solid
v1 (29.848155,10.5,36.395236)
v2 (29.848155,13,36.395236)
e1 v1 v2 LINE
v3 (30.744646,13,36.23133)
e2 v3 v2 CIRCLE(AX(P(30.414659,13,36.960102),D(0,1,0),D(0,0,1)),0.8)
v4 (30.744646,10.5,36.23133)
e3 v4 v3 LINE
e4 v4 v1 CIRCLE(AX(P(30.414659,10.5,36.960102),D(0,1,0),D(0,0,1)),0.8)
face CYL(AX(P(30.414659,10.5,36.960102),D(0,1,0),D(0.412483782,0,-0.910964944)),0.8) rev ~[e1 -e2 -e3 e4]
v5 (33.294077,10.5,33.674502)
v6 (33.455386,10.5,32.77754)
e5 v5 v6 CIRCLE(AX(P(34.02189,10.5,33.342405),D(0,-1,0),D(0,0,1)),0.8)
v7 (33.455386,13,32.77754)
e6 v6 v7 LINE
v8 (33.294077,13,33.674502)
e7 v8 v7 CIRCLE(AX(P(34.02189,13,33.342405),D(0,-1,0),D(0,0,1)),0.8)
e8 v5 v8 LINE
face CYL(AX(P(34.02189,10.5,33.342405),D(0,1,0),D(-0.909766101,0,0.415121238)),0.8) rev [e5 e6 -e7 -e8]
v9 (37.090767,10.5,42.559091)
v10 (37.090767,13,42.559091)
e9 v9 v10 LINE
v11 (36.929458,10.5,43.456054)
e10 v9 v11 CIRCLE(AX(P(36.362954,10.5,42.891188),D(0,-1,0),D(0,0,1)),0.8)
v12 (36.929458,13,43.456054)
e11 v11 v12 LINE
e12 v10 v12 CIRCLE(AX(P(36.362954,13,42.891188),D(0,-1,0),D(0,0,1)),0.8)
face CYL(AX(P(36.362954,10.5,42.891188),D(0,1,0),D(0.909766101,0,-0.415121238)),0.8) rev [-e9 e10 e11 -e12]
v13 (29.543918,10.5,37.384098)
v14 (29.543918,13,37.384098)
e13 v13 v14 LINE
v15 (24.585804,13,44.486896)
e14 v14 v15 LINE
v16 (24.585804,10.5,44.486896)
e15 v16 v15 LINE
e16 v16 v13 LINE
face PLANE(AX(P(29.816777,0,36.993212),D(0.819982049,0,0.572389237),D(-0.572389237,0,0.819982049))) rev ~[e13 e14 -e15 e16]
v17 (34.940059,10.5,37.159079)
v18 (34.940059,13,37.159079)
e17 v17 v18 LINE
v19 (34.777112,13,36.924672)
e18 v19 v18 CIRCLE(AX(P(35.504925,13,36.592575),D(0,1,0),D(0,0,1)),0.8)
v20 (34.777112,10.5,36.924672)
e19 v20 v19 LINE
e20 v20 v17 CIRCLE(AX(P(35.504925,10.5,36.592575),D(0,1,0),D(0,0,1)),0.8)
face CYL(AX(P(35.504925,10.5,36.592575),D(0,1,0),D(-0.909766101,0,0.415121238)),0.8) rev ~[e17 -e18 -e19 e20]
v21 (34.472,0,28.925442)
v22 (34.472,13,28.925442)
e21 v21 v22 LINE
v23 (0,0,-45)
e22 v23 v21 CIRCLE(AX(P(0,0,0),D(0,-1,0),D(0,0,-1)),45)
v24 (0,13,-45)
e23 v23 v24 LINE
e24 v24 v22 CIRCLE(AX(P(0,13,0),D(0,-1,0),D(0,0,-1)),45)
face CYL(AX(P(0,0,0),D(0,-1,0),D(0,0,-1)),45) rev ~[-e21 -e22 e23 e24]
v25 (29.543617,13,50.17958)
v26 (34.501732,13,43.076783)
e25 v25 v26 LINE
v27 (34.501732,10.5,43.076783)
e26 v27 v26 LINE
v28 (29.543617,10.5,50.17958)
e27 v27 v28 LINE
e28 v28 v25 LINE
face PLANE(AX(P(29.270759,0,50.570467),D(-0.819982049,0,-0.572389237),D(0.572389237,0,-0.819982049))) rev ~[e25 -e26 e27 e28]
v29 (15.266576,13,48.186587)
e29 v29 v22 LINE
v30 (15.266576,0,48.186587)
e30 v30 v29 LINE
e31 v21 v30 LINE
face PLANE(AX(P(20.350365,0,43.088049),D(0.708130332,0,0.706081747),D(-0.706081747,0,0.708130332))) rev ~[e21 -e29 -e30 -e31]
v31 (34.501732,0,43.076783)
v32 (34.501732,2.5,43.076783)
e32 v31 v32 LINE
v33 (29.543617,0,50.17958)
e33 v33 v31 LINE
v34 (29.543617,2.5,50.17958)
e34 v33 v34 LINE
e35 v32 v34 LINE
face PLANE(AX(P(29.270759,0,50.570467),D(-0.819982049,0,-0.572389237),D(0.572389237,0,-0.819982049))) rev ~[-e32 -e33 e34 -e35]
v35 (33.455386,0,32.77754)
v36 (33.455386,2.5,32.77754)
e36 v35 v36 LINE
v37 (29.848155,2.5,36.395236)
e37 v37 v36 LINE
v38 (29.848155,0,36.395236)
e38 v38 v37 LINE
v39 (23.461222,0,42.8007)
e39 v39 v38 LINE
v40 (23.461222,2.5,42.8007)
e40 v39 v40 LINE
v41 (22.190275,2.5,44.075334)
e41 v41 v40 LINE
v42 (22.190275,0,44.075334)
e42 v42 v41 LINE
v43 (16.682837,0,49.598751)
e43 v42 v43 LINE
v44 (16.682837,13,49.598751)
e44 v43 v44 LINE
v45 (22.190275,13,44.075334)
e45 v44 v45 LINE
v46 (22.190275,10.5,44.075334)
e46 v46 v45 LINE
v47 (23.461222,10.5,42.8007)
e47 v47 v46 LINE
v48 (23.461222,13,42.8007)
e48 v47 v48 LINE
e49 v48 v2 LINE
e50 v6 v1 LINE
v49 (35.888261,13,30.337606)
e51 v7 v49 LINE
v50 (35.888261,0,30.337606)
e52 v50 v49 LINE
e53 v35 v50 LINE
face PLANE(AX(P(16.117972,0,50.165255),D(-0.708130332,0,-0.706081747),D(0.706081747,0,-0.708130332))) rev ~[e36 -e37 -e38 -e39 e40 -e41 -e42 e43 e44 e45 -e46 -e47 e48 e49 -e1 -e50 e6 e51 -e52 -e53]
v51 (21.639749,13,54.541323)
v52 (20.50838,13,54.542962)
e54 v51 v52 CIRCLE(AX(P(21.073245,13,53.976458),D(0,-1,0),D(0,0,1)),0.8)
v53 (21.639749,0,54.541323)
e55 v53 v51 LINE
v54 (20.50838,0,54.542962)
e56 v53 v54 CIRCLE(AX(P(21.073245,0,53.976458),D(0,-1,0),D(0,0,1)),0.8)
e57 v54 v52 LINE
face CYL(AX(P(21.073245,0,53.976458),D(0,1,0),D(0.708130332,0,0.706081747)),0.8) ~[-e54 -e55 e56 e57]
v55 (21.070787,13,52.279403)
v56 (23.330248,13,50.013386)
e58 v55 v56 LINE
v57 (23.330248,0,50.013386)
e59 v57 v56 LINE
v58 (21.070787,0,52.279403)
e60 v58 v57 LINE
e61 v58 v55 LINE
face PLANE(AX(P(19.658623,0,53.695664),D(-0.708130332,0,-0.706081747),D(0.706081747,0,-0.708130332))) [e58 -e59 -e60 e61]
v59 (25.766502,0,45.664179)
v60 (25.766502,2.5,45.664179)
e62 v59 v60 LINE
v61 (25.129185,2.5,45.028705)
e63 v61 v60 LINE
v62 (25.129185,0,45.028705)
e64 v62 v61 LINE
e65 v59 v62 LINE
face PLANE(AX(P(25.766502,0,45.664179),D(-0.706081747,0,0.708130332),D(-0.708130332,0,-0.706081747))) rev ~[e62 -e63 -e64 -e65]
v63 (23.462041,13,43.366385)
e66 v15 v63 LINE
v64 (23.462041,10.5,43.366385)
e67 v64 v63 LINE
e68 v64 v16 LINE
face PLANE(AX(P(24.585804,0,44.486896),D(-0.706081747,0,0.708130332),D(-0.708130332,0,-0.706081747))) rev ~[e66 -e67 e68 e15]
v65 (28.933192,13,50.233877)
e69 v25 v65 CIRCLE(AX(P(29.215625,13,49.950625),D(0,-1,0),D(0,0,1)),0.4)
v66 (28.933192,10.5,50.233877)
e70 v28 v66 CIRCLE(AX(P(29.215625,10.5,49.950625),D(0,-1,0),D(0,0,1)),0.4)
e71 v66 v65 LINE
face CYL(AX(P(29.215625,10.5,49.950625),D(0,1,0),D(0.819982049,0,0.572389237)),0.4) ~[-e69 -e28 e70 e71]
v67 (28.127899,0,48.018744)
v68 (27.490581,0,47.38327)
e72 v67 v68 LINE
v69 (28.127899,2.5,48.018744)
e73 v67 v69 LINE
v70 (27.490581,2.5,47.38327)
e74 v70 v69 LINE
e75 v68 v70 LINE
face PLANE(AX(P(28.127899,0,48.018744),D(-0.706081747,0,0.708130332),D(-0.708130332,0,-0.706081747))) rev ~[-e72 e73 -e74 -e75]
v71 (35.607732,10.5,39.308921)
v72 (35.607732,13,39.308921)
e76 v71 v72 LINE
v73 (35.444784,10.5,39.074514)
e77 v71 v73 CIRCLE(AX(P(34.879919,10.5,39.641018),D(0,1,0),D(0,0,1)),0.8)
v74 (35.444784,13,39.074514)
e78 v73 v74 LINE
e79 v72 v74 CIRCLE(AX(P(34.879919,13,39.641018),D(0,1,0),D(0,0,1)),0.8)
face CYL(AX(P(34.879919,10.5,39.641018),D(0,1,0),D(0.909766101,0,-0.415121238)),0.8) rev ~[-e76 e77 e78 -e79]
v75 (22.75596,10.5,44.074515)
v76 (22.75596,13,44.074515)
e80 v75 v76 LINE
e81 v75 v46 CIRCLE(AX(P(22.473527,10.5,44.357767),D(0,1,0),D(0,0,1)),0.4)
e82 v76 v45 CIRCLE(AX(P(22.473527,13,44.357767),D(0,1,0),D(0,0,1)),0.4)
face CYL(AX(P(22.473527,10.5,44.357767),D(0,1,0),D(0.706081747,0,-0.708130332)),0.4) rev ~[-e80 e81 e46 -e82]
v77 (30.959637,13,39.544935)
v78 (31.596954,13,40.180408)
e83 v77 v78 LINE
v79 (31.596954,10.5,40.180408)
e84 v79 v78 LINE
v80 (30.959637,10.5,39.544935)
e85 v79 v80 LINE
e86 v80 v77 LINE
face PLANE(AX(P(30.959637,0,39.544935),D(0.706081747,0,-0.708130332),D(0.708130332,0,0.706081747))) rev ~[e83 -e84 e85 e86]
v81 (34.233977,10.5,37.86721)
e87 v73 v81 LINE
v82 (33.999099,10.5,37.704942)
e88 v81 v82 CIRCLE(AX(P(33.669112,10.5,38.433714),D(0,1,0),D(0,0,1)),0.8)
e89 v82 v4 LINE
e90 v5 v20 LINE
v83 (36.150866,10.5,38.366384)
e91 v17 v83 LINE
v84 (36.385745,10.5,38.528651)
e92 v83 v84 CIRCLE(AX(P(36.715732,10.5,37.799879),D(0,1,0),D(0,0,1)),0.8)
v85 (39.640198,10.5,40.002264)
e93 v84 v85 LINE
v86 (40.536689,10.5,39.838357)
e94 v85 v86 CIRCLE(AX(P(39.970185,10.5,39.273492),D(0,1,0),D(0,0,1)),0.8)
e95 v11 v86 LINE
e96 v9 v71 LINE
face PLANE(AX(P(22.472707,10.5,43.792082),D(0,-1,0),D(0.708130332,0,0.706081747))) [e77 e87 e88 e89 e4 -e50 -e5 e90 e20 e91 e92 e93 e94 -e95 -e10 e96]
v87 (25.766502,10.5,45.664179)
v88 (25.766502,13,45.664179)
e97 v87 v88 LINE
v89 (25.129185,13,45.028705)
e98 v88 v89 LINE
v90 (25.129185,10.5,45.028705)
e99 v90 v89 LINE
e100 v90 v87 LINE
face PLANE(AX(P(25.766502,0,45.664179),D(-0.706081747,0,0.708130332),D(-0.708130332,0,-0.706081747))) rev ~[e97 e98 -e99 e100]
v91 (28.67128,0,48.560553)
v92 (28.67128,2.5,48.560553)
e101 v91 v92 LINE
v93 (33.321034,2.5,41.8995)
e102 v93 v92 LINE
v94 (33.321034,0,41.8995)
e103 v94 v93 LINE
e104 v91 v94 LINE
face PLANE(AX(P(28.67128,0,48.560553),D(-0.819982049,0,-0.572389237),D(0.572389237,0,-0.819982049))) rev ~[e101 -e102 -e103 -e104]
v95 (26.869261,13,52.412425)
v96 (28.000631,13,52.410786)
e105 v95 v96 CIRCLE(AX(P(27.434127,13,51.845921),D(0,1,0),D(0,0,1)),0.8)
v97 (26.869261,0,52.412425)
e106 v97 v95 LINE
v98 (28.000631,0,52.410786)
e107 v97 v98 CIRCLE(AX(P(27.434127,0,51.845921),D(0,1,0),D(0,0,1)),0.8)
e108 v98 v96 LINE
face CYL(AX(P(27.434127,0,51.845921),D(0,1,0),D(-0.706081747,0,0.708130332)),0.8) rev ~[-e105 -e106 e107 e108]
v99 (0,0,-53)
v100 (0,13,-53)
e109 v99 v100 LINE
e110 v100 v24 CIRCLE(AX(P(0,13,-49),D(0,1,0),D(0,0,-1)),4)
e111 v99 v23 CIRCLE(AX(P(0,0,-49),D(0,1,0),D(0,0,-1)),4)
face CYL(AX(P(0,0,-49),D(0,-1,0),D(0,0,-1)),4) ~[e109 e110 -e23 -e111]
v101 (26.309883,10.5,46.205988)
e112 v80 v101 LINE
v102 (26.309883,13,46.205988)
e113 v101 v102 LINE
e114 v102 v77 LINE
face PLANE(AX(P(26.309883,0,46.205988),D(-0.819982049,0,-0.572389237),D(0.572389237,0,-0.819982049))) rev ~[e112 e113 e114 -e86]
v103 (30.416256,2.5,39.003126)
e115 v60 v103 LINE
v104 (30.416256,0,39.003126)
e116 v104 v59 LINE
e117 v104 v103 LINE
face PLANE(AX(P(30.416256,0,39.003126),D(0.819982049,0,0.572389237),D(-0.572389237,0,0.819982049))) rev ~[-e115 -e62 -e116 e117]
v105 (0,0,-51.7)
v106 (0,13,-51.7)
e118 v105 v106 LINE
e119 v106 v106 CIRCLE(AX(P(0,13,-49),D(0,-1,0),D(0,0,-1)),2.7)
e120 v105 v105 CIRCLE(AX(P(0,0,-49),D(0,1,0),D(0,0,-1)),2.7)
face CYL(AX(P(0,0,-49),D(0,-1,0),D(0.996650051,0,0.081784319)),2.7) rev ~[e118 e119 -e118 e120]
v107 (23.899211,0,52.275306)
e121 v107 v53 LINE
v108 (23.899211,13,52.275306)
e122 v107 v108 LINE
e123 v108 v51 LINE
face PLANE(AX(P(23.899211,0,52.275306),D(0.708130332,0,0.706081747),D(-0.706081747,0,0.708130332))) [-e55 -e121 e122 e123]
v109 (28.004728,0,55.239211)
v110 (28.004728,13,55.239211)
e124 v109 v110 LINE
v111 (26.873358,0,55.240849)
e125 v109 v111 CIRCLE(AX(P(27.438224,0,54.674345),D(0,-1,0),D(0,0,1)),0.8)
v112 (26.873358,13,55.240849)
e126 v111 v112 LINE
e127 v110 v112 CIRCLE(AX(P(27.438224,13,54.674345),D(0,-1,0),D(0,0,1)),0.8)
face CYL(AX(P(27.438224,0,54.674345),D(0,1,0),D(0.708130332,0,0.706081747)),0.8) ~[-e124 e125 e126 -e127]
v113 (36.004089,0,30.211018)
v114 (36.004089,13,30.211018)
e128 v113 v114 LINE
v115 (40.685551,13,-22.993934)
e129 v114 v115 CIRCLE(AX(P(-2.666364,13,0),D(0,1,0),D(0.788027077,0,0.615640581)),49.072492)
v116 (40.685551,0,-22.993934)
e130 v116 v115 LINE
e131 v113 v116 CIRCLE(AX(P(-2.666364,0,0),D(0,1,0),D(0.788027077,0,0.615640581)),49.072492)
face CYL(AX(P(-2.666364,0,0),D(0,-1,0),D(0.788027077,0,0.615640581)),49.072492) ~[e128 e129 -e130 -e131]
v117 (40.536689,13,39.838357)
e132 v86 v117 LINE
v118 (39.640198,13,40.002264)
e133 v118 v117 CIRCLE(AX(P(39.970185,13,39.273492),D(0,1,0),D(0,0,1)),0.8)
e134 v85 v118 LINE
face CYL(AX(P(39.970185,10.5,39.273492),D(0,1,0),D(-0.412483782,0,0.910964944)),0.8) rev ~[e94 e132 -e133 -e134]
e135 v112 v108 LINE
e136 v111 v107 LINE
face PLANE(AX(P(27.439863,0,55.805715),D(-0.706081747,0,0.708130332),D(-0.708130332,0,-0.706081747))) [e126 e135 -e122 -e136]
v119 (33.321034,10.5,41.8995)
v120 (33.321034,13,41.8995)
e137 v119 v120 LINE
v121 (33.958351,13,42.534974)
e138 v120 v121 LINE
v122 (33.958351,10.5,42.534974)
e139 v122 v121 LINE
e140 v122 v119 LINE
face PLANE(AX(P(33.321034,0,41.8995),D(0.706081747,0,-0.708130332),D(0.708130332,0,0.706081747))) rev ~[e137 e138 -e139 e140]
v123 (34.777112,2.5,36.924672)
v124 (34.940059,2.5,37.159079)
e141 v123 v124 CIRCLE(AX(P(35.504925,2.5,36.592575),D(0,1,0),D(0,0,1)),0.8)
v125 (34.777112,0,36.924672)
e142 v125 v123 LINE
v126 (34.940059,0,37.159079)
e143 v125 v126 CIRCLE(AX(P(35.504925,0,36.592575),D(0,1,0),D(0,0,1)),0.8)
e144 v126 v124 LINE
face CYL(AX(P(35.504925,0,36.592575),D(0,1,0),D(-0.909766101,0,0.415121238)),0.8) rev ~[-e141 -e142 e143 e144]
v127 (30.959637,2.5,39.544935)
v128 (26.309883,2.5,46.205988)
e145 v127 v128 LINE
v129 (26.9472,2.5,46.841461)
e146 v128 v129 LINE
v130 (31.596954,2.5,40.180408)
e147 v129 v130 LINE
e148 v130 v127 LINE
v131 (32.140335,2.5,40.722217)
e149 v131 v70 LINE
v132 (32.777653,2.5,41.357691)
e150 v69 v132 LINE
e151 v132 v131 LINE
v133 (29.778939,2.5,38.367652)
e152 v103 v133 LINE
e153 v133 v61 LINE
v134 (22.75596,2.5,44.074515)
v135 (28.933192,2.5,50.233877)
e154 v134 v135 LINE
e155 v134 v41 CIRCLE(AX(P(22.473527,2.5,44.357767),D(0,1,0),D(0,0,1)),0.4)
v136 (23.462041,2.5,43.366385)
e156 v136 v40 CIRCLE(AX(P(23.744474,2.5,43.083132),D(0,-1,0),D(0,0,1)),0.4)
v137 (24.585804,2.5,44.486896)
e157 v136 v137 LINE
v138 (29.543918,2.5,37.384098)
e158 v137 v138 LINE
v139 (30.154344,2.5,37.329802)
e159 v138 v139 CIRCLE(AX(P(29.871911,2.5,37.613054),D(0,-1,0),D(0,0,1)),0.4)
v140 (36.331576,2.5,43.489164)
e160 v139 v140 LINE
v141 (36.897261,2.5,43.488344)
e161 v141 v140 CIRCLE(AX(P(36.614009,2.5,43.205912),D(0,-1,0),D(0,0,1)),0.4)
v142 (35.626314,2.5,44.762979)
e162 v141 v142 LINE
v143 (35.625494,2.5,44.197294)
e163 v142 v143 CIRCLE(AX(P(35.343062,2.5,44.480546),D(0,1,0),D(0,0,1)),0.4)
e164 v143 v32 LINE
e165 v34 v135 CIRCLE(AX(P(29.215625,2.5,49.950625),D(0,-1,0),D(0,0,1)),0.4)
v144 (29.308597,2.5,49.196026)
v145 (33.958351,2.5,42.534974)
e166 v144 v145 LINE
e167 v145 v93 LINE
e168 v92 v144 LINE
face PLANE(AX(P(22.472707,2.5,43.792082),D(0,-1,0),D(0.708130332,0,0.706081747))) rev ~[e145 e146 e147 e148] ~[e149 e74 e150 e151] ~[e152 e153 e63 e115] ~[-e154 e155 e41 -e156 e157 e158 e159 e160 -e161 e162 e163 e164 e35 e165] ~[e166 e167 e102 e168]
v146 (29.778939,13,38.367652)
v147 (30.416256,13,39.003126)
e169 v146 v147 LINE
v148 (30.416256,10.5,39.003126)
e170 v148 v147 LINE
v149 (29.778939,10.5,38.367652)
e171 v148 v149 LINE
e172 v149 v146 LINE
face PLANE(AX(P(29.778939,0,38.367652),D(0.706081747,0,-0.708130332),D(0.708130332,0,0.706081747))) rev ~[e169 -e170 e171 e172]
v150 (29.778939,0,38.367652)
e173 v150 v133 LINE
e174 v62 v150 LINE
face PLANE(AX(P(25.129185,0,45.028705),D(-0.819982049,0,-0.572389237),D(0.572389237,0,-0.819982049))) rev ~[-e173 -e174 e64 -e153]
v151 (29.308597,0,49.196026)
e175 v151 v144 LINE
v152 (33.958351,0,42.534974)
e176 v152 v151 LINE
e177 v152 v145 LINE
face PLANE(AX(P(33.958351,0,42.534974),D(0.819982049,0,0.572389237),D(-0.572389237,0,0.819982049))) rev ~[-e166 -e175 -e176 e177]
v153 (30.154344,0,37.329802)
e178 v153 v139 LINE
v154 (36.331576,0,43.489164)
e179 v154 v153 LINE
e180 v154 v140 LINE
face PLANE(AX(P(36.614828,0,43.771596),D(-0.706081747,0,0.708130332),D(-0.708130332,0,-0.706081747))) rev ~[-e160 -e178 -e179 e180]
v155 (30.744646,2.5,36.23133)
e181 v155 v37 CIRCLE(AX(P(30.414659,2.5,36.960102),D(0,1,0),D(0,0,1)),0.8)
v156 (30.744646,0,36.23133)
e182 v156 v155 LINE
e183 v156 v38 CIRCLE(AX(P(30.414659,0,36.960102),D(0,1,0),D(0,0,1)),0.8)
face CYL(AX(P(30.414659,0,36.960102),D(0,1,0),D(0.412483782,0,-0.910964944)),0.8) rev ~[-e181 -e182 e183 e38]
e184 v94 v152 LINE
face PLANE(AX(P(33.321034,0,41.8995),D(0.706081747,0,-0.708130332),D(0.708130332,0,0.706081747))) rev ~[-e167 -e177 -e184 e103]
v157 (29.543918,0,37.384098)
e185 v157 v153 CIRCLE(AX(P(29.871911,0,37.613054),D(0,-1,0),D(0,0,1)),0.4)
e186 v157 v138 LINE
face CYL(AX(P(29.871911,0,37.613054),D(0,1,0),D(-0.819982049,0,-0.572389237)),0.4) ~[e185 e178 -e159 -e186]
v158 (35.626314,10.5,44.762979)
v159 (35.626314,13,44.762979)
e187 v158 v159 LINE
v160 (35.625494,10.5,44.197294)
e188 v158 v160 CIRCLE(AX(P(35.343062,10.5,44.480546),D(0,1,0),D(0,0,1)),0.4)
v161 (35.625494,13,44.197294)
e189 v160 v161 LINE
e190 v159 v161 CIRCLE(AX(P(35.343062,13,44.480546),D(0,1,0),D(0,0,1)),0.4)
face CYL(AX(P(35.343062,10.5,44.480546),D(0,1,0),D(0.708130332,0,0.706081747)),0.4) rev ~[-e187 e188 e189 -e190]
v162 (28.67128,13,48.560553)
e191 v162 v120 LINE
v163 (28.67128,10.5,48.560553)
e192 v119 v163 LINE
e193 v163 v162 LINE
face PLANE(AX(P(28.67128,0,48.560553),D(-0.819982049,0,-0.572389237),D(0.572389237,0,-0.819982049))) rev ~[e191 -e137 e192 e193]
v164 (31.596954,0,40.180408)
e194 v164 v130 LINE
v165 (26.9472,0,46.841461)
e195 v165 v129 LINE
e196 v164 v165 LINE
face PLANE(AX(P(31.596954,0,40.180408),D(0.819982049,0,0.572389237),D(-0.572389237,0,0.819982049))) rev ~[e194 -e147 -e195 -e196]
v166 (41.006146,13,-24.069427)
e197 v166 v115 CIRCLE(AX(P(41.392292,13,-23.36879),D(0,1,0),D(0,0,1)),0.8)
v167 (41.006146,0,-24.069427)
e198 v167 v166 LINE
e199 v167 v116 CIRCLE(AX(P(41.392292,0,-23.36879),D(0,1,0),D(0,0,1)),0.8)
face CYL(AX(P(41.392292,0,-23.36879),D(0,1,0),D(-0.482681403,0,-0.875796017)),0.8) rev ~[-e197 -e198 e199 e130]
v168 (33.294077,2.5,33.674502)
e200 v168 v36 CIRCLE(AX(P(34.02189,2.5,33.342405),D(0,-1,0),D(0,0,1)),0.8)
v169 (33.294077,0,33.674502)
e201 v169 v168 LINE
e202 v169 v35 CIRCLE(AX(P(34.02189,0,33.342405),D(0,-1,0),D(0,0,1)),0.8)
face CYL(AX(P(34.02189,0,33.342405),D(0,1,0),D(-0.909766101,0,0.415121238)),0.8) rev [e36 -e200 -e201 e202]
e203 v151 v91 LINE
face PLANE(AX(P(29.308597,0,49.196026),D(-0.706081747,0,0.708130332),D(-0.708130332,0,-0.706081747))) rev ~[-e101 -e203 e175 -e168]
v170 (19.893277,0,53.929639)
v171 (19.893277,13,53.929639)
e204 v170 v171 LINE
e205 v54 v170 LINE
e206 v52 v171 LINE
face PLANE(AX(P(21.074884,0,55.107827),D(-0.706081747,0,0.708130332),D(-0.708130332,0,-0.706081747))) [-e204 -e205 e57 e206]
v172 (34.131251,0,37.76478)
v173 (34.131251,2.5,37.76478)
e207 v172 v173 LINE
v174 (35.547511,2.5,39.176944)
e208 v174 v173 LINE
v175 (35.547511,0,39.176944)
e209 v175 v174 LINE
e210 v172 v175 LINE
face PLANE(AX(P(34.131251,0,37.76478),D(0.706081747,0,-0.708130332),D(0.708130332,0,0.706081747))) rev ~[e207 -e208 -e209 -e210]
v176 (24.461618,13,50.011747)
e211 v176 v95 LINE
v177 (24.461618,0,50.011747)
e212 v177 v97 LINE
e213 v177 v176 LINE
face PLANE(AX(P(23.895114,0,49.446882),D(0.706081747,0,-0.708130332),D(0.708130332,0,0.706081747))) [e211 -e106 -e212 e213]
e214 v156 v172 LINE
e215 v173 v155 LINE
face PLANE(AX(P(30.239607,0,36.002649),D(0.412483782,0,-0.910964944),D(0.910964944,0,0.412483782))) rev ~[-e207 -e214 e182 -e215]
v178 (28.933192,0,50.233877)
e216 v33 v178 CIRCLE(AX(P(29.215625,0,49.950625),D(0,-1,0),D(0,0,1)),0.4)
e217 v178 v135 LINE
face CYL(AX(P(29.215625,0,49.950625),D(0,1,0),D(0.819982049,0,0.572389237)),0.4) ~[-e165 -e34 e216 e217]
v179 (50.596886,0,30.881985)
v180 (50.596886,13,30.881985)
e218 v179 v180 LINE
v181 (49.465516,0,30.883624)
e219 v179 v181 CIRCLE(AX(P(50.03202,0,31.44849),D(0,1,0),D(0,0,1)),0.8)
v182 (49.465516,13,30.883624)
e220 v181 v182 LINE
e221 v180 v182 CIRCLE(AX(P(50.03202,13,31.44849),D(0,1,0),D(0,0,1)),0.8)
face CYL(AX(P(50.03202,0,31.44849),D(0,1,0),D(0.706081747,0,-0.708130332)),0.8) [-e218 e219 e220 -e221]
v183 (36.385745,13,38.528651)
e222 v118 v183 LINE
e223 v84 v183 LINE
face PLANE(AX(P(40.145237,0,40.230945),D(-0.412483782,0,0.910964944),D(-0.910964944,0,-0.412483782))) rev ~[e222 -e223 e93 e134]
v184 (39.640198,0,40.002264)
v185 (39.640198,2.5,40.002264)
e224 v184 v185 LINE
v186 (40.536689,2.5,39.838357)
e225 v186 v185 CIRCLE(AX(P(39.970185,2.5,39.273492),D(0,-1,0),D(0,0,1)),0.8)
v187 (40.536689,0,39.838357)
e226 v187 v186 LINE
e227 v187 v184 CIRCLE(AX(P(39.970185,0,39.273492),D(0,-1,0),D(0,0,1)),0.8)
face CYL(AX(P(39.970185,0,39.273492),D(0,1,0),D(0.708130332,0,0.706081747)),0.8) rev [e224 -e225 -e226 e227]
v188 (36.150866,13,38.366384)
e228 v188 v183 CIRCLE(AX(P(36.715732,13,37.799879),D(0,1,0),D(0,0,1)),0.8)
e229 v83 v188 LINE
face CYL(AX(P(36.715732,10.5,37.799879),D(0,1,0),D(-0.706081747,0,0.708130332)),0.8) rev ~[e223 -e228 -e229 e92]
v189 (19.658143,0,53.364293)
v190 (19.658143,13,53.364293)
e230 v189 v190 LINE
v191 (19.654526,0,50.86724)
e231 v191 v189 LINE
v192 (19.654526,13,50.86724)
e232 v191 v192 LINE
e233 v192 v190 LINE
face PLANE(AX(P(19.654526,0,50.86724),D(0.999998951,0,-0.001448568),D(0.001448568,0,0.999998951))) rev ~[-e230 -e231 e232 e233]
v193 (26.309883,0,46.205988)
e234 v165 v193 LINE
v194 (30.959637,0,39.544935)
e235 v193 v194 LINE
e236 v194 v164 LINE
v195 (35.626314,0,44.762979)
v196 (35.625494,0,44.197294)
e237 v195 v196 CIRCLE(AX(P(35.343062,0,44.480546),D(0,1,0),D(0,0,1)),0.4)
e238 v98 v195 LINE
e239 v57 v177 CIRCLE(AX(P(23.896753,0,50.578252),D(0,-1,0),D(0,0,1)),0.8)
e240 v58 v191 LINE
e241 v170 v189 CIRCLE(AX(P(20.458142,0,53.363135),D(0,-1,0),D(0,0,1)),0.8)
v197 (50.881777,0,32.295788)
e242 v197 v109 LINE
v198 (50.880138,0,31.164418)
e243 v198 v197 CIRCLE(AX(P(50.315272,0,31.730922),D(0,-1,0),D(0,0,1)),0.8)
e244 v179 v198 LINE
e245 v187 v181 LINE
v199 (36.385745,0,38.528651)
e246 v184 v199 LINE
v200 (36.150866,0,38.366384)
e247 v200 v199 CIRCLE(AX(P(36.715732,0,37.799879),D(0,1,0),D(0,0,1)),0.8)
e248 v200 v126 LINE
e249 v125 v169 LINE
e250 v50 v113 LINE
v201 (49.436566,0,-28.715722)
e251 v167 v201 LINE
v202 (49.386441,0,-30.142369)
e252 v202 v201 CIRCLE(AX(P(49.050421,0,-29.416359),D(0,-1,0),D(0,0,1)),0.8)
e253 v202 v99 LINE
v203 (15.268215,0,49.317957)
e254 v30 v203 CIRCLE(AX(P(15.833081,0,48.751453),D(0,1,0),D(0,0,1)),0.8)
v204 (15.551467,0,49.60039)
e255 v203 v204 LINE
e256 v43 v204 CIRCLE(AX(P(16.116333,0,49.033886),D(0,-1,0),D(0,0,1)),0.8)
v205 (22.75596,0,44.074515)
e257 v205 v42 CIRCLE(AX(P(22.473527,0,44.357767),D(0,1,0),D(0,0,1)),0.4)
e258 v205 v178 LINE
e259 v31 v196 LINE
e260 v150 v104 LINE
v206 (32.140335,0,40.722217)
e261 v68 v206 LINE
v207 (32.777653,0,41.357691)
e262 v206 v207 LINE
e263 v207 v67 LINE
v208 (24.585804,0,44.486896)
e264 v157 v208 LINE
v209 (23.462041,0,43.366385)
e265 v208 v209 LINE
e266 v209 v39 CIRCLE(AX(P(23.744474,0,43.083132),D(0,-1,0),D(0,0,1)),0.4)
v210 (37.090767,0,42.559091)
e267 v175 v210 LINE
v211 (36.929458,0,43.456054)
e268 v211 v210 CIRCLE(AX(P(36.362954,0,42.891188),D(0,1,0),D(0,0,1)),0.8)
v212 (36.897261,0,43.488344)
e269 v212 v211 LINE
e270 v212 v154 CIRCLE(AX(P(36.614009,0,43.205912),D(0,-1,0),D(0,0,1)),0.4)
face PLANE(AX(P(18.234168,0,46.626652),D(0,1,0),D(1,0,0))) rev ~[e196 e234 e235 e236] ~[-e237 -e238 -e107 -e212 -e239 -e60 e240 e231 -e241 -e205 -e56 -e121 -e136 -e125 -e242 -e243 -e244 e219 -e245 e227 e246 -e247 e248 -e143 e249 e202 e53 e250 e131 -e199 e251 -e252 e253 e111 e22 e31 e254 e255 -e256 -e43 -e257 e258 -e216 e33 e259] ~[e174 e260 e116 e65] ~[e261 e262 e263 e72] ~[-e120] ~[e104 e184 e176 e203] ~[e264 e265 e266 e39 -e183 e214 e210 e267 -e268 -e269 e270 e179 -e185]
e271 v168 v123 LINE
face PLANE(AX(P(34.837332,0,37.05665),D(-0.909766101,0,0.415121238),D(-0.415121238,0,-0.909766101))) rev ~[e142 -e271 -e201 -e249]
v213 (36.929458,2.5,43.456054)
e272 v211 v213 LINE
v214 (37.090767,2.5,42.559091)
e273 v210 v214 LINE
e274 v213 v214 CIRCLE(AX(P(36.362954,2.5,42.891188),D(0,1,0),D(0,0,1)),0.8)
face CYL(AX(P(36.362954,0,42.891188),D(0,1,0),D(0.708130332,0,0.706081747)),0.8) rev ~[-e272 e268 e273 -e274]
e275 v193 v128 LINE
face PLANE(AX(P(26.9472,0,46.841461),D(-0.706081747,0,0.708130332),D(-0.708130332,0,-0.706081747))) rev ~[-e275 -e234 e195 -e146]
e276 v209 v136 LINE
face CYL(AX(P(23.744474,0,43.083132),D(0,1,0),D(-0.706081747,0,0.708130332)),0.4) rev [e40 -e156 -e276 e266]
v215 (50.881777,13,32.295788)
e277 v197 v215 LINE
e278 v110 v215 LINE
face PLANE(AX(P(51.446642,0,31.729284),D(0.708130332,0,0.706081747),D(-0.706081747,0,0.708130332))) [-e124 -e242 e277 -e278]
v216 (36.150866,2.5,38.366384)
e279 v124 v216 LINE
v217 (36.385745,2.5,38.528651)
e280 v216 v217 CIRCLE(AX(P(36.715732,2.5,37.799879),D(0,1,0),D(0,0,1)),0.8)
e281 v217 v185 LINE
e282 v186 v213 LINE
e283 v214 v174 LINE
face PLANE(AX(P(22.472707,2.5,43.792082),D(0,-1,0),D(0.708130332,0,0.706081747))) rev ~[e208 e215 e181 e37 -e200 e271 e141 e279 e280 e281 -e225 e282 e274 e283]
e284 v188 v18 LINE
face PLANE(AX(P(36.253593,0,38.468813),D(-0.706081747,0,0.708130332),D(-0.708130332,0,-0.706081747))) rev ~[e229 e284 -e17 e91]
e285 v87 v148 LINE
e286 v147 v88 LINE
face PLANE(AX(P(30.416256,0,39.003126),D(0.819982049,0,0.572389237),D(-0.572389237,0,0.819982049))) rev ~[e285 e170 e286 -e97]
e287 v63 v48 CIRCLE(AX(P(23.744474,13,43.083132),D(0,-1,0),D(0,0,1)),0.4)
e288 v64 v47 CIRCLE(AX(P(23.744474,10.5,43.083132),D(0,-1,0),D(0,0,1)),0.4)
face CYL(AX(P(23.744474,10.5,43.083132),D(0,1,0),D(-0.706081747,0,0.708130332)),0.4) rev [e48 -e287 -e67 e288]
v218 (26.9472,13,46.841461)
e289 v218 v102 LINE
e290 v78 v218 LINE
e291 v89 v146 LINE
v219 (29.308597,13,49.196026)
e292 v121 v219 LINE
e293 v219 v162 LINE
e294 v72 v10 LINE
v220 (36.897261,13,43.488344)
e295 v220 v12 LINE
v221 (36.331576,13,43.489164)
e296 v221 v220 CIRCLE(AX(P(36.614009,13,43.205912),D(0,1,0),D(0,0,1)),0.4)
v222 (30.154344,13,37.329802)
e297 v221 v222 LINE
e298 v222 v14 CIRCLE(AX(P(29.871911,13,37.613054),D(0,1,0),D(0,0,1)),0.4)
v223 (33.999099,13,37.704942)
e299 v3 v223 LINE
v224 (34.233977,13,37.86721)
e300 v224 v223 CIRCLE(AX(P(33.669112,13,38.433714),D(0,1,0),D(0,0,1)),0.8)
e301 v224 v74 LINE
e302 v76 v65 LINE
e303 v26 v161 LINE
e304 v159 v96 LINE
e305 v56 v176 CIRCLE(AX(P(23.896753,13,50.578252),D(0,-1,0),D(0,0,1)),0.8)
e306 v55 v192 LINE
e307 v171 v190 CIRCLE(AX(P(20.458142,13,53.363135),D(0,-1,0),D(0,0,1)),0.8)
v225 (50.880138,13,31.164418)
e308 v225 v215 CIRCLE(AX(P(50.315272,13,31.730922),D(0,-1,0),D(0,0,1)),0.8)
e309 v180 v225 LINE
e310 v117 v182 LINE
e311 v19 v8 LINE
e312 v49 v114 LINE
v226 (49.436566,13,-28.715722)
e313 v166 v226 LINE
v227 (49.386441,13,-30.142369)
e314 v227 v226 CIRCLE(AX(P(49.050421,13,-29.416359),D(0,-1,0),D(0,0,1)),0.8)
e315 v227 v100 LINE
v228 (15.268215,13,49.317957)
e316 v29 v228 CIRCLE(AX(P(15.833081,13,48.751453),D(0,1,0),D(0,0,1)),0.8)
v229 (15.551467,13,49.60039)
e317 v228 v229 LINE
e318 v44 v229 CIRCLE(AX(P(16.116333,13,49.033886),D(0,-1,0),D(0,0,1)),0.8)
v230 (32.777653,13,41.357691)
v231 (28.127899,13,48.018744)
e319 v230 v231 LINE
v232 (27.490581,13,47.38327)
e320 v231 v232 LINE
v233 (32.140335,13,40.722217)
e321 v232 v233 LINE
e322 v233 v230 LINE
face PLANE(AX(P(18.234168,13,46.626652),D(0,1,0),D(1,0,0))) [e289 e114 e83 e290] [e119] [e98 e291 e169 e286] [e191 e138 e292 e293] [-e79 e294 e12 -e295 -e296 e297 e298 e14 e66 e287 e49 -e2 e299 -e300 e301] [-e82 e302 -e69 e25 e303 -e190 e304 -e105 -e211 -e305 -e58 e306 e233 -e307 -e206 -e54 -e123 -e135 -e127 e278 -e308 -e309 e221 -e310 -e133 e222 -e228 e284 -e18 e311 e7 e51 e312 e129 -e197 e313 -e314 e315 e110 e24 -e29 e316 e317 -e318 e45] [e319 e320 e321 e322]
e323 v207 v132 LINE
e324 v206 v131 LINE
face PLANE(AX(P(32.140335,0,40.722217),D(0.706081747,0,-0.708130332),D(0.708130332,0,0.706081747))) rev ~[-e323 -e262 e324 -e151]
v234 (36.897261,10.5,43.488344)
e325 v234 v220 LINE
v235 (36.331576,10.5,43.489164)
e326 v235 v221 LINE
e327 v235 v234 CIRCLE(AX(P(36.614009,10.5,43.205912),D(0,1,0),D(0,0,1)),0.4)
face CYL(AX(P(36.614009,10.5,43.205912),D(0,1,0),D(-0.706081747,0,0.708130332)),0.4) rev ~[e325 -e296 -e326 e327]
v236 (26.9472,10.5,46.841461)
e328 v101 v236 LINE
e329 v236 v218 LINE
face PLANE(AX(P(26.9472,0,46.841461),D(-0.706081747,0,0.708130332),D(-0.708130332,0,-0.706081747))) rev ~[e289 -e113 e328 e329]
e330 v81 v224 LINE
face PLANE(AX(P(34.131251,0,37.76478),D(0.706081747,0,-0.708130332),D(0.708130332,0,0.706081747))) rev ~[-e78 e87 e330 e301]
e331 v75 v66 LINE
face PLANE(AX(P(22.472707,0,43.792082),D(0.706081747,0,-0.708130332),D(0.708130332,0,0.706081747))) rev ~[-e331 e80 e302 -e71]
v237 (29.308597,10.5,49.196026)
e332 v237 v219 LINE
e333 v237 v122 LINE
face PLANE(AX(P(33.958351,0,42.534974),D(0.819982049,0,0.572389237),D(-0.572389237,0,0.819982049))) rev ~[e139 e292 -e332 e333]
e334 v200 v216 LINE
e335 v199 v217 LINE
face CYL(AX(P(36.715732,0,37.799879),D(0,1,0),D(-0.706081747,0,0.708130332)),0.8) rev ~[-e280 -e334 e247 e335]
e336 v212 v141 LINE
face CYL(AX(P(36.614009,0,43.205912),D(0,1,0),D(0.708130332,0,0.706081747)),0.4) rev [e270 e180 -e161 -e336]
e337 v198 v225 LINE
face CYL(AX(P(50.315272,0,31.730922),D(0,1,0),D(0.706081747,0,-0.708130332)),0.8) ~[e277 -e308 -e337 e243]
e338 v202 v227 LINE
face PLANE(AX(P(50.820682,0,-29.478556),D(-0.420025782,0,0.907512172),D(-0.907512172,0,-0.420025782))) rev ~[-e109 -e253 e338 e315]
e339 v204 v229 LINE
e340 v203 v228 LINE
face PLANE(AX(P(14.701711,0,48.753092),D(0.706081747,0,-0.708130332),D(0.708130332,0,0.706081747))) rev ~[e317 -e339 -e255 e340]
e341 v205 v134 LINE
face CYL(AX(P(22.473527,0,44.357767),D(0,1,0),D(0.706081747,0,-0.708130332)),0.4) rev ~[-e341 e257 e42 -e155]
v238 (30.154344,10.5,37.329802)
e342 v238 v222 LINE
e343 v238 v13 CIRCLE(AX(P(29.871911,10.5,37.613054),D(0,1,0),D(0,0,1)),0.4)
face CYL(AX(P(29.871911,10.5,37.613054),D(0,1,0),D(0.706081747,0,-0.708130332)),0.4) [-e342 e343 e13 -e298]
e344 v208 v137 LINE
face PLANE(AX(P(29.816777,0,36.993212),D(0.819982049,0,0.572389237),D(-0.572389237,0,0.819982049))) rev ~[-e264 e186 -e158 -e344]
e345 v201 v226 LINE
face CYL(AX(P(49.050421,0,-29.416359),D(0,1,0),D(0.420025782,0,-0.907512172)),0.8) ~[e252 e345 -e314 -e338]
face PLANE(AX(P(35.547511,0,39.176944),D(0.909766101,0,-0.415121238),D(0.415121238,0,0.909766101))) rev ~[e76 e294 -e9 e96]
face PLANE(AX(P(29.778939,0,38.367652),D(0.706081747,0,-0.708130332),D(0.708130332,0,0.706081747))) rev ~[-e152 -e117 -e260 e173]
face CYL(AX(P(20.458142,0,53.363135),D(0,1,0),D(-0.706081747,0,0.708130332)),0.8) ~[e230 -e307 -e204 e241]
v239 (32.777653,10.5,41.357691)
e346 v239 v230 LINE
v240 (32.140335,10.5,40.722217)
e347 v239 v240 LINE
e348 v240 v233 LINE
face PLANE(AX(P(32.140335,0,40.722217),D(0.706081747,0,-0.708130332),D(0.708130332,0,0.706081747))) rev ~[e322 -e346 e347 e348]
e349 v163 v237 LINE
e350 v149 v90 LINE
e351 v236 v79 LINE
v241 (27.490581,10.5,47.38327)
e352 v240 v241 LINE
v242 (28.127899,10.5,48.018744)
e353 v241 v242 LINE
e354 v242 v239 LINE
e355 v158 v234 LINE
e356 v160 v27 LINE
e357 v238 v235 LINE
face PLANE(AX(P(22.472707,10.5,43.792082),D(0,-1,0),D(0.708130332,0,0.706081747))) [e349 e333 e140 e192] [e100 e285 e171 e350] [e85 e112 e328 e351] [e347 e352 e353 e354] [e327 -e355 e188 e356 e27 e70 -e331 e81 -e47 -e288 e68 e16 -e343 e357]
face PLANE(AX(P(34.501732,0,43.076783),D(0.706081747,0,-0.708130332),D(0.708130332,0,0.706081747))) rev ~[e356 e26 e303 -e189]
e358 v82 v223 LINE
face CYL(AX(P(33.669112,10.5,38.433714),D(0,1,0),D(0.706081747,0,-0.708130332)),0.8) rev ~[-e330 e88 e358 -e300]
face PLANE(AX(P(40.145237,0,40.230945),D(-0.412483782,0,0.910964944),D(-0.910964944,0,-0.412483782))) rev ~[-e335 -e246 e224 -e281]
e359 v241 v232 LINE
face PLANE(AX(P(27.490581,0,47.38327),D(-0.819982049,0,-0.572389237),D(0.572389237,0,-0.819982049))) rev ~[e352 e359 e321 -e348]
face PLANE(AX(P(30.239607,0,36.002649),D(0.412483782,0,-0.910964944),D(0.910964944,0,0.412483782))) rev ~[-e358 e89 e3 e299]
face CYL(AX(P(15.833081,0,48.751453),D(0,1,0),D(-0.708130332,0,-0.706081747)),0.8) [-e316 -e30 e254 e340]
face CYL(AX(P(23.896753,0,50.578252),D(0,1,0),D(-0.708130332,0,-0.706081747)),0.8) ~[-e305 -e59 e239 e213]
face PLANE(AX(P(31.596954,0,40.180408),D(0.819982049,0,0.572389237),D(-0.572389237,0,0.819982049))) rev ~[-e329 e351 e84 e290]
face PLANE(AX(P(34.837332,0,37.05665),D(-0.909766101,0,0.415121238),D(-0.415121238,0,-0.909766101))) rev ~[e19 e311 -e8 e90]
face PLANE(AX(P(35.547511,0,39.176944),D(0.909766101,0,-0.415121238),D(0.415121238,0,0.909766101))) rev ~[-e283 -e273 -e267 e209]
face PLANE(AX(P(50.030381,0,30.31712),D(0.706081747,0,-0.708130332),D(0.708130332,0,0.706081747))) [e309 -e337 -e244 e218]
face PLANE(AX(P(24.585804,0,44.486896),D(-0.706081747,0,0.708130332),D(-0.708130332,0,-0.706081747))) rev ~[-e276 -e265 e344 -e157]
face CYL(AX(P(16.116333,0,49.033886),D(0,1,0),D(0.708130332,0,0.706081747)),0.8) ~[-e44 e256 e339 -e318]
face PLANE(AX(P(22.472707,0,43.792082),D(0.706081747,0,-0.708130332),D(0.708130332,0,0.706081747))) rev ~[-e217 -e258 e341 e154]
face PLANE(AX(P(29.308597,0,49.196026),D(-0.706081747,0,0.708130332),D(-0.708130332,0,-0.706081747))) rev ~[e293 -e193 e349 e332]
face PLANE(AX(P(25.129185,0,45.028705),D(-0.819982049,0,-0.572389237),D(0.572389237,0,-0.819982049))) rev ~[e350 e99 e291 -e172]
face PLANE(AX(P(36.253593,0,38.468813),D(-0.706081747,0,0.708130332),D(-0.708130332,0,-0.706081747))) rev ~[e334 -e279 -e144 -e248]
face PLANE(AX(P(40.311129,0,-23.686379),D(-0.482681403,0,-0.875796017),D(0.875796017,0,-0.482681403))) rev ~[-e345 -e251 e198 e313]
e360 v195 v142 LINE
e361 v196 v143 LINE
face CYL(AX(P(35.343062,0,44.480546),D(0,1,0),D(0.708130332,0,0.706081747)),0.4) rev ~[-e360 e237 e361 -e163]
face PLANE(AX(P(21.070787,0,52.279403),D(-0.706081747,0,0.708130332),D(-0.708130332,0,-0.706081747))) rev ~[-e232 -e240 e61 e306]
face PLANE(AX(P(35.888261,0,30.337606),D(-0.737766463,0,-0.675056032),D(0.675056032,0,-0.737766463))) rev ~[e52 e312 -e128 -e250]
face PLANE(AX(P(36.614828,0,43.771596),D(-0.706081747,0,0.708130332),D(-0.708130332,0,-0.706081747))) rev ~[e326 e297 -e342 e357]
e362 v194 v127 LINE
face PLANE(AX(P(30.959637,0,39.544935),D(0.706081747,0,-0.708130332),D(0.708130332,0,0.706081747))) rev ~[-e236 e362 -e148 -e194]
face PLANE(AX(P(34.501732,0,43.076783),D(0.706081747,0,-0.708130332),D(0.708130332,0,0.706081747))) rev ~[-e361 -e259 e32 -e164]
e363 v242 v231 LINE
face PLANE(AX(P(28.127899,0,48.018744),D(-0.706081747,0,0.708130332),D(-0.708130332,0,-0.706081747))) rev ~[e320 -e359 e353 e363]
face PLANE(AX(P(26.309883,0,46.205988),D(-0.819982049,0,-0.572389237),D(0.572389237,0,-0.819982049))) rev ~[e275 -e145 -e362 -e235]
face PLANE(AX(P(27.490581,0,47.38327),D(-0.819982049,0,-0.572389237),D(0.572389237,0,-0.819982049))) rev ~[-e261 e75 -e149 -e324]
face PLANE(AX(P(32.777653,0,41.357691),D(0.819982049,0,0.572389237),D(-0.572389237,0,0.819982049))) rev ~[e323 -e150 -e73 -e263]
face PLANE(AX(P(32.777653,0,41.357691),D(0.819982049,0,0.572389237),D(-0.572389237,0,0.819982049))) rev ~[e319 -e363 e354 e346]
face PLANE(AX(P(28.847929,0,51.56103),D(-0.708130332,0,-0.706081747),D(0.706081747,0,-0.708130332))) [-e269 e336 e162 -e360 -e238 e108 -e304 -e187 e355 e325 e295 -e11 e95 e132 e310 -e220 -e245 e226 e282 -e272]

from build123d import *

# Parameters (mm, degrees)
BOSS_EXTRUDE1_DEPTH = 13
SKETCH2_W           = 10
SKETCH2_H           = 8
CUT_EXTRUDE1_DEPTH  = 23
FILLET2_R           = 0.8
FILLET3_R           = 0.4


with BuildPart() as part:
    # Sketch1 → Boss-Extrude1 (new body)
    # profile 1 of 9: a face of its own
    with BuildSketch(Plane(origin=(0, 0, 0), x_dir=(1, 0, 0), z_dir=(0, 1, 0))):
        with BuildLine():
            Line((0, 51.69999999999999), (0, 52.99999999999999))
            ThreePointArc((-9.3e-16, 52.999999999999986), (-4.000000000000001, 48.999999999999986), (0, 44.999999999999986))
            ThreePointArc((0, 44.99999999999999), (40.783850416649216, 19.017821778331506), (34.47199994035405, -28.925442435894198))
            Line((34.47199994035406, -28.9254424358942), (35.888260603401996, -30.337605930077153))
            Line((35.888260603401996, -30.337605930077153), (36.00408882659202, -30.211017655267263))
            ThreePointArc((36.00408882659201, -30.211017655267256), (46.250188794991274, -3.909012128546492), (40.31112943915424, 23.686379393552375))
            ThreePointArc((40.31112943915424, 23.686379393552375), (24.563687739130117, 40.824426362915915), (2.690955139008132, 48.77918233801223))
            ThreePointArc((2.6909551390081288, 48.77918233801222), (-1.985725017136943, 47.17054758019878), (2.055e-14, 51.69999999999999))
        make_face()
    # profile 2 of 9: a face of its own
    with BuildSketch(Plane(origin=(0, 0, 0), x_dir=(1, 0, 0), z_dir=(0, 1, 0))):
        with BuildLine():
            Line((50.82068164403521, 29.47855622552852), (0, 52.99999999999999))
            Line((0, 52.99999999999999), (0, 51.69999999999999))
            ThreePointArc((2.115e-14, 51.69999999999999), (1.909188309203686, 50.90918830920366), (2.7, 48.999999999999986))
            ThreePointArc((2.7, 48.999999999999986), (2.6977378370888774, 48.88949858671026), (2.6909551390081288, 48.77918233801222))
            ThreePointArc((2.690955139008132, 48.77918233801223), (24.563687739130117, 40.824426362915915), (40.31112943915424, 23.686379393552375))
            Line((40.311129439154236, 23.68637939355237), (50.82068164403521, 29.47855622552852))
        make_face()
    # profile 3 of 9: a face of its own
    with BuildSketch(Plane(origin=(0, 0, 0), x_dir=(1, 0, 0), z_dir=(0, 1, 0))):
        Polygon((21.766625661572498, -44.50021256055632), (35.888260603401996, -30.337605930077153), (34.47199994035406, -28.9254424358942), (20.350364998524487, -43.08804906637342), align=None)
    # profile 4 of 9: a face of its own
    with BuildSketch(Plane(origin=(0, 0, 0), x_dir=(1, 0, 0), z_dir=(0, 1, 0))):
        Polygon((34.83733232049475, -37.056649741824835), (33.063933615036056, -33.170127256173025), (30.23960662667018, -36.00264858226883), (34.13125057340328, -37.76478007334881), (35.5475112364512, -39.17694356753177), (37.32090994190985, -43.063466053183646), (40.145236930275736, -40.230944727087746), (36.25359298354269, -38.468813236007804), align=None)
    # profile 5 of 9: a face of its own
    with BuildSketch(Plane(origin=(0, 0, 0), x_dir=(1, 0, 0), z_dir=(0, 1, 0))):
        Polygon((51.446642052604496, -31.729283579935103), (30.26418963986006, -52.973193525654075), (28.84792897681213, -51.56103003147111), (50.03038138955656, -30.317120085752126), align=None)
    # profile 6 of 9: a face of its own
    with BuildSketch(Plane(origin=(0, 0, 0), x_dir=(1, 0, 0), z_dir=(0, 1, 0))):
        Polygon((23.17878915575541, -43.08395189750844), (22.47270740866399, -43.792082229032346), (29.270758591293983, -50.57046700111064), (34.50173196536596, -43.07678265401291), (35.9087464477269, -44.47972671623149), (36.61482819481838, -43.77159638470753), (29.81677701218832, -36.993211612629345), (24.585803638116356, -44.48689595972706), align=None)
        Polygon((32.77765265760353, -41.35769101853769), (28.12789854731734, -48.01874377151343), (27.490581248945773, -47.38327019913109), (32.14033535923197, -40.722217446155355), align=None, mode=Mode.SUBTRACT)
        Polygon((31.596954354536543, -40.1804084146089), (26.947200244250347, -46.84146116758463), (26.309882945878776, -46.20598759520231), (30.959637056164965, -39.54493484222657), align=None, mode=Mode.SUBTRACT)
        Polygon((33.95835096067053, -42.534973622466474), (29.308596850384333, -49.196026375442216), (28.671279552012766, -48.560552803059885), (33.321033662298966, -41.89950005008415), align=None, mode=Mode.SUBTRACT)
        Polygon((30.416256051469542, -39.00312581068011), (25.766501941183353, -45.664178563655845), (25.129184642811783, -45.02870499127351), (29.778938753097975, -38.36765223829777), align=None, mode=Mode.SUBTRACT)
    # profile 7 of 9: a face of its own
    with BuildSketch(Plane(origin=(0, 0, 0), x_dir=(1, 0, 0), z_dir=(0, 1, 0))):
        Polygon((27.435765482629172, -52.977290694519034), (28.84792897681213, -51.56103003147111), (30.26418963986006, -52.973193525654075), (27.439862651494142, -55.805714851749926), (23.899210993874338, -52.27530611629255), (21.074884005508324, -55.10782744238849), (19.658623342460395, -53.69566394820553), (23.895113825009364, -49.446881959061656), align=None)
    # profile 8 of 9: a face of its own
    with BuildSketch(Plane(origin=(0, 0, 0), x_dir=(1, 0, 0), z_dir=(0, 1, 0))):
        Polygon((19.658623342460395, -53.69566394820553), (21.07078683664336, -52.27940328515759), (19.654526173595425, -50.86723979097463), align=None)
    # profile 9 of 9: a face of its own
    with BuildSketch(Plane(origin=(0, 0, 0), x_dir=(1, 0, 0), z_dir=(0, 1, 0))):
        Polygon((20.350364998524487, -43.08804906637342), (14.701711021792637, -48.753091718565145), (16.11797168484057, -50.165255212748114), (21.766625661572498, -44.50021256055632), align=None)
    extrude(amount=BOSS_EXTRUDE1_DEPTH)

    # Sketch2 → Cut-Extrude1 (cut)
    with BuildSketch(Plane(origin=(-10.69214872852209, 0, 10.723170305733387), x_dir=(0.7081303315239577, 0, 0.7060817470914894), z_dir=(-0.7060817470914894, 0, 0.7081303315239577))):
        with Locations((51.834395676587455, 6.499999999999998)):
            Rectangle(SKETCH2_W, SKETCH2_H)
    extrude(amount=-CUT_EXTRUDE1_DEPTH, mode=Mode.SUBTRACT)

    # Fillet2
    fillet2_edges = [part.edges().sort_by_distance(p)[0] for p in [
        (35.5475112364512, 11.75, 39.17694356753177),
        (34.13125057340328, 11.75, 37.76478007334881),
        (30.23960662667018, 11.75, 36.00264858226883),
        (37.32090994190983, 11.75, 43.06346605318363),
        (50.03038138955656, 6.5, 30.317120085752126),
        (51.446642052604496, 6.5, 31.729283579935103),
        (27.439862651494142, 6.5, 55.805714851749926),
        (21.074884005508324, 6.5, 55.10782744238849),
        (19.658623342460395, 6.5, 53.69566394820553),
        (23.895113825009364, 6.5, 49.446881959061656),
        (27.435765482629172, 6.5, 52.977290694519034),
        (16.11797168484057, 6.5, 50.165255212748114),
        (14.701711021792637, 6.5, 48.753091718565145),
        (50.82068164403521, 6.5, -29.47855622552852),
        (40.31112943915424, 6.5, -23.68637939355238),
        (33.063933615036056, 11.75, 33.170127256173025),
        (34.83733232049475, 11.75, 37.056649741824835),
        (36.25359298354269, 11.75, 38.468813236007804),
        (40.14523693027576, 11.75, 40.23094472708776),
        (33.063933615036056, 1.2499999999999993, 33.170127256173025),
        (34.83733232049475, 1.2499999999999993, 37.056649741824835),
        (36.25359298354269, 1.2499999999999993, 38.468813236007804),
        (40.14523693027576, 1.2499999999999993, 40.23094472708776),
        (30.23960662667018, 1.2499999999999993, 36.00264858226883),
        (37.32090994190983, 1.2499999999999993, 43.06346605318363),
    ]]
    fillet(fillet2_edges, radius=FILLET2_R)

    # Fillet3
    fillet3_edges = [part.edges().sort_by_distance(p)[0] for p in [
        (23.17878915575541, 11.75, 43.08395189750844),
        (29.81677701218832, 11.75, 36.993211612629345),
        (36.61482819481838, 11.75, 43.77159638470753),
        (35.9087464477269, 11.75, 44.47972671623149),
        (29.270758591293983, 11.75, 50.57046700111064),
        (22.472707408664043, 11.75, 43.7920822290324),
        (35.9087464477269, 1.2499999999999993, 44.47972671623149),
        (29.270758591293983, 1.2499999999999993, 50.57046700111064),
        (22.472707408664043, 1.2499999999999993, 43.7920822290324),
        (23.17878915575541, 1.2499999999999993, 43.08395189750844),
        (29.81677701218832, 1.2499999999999993, 36.993211612629345),
        (36.61482819481838, 1.2499999999999993, 43.77159638470753),
    ]]
    fillet(fillet3_edges, radius=FILLET3_R)


solid = part.part
